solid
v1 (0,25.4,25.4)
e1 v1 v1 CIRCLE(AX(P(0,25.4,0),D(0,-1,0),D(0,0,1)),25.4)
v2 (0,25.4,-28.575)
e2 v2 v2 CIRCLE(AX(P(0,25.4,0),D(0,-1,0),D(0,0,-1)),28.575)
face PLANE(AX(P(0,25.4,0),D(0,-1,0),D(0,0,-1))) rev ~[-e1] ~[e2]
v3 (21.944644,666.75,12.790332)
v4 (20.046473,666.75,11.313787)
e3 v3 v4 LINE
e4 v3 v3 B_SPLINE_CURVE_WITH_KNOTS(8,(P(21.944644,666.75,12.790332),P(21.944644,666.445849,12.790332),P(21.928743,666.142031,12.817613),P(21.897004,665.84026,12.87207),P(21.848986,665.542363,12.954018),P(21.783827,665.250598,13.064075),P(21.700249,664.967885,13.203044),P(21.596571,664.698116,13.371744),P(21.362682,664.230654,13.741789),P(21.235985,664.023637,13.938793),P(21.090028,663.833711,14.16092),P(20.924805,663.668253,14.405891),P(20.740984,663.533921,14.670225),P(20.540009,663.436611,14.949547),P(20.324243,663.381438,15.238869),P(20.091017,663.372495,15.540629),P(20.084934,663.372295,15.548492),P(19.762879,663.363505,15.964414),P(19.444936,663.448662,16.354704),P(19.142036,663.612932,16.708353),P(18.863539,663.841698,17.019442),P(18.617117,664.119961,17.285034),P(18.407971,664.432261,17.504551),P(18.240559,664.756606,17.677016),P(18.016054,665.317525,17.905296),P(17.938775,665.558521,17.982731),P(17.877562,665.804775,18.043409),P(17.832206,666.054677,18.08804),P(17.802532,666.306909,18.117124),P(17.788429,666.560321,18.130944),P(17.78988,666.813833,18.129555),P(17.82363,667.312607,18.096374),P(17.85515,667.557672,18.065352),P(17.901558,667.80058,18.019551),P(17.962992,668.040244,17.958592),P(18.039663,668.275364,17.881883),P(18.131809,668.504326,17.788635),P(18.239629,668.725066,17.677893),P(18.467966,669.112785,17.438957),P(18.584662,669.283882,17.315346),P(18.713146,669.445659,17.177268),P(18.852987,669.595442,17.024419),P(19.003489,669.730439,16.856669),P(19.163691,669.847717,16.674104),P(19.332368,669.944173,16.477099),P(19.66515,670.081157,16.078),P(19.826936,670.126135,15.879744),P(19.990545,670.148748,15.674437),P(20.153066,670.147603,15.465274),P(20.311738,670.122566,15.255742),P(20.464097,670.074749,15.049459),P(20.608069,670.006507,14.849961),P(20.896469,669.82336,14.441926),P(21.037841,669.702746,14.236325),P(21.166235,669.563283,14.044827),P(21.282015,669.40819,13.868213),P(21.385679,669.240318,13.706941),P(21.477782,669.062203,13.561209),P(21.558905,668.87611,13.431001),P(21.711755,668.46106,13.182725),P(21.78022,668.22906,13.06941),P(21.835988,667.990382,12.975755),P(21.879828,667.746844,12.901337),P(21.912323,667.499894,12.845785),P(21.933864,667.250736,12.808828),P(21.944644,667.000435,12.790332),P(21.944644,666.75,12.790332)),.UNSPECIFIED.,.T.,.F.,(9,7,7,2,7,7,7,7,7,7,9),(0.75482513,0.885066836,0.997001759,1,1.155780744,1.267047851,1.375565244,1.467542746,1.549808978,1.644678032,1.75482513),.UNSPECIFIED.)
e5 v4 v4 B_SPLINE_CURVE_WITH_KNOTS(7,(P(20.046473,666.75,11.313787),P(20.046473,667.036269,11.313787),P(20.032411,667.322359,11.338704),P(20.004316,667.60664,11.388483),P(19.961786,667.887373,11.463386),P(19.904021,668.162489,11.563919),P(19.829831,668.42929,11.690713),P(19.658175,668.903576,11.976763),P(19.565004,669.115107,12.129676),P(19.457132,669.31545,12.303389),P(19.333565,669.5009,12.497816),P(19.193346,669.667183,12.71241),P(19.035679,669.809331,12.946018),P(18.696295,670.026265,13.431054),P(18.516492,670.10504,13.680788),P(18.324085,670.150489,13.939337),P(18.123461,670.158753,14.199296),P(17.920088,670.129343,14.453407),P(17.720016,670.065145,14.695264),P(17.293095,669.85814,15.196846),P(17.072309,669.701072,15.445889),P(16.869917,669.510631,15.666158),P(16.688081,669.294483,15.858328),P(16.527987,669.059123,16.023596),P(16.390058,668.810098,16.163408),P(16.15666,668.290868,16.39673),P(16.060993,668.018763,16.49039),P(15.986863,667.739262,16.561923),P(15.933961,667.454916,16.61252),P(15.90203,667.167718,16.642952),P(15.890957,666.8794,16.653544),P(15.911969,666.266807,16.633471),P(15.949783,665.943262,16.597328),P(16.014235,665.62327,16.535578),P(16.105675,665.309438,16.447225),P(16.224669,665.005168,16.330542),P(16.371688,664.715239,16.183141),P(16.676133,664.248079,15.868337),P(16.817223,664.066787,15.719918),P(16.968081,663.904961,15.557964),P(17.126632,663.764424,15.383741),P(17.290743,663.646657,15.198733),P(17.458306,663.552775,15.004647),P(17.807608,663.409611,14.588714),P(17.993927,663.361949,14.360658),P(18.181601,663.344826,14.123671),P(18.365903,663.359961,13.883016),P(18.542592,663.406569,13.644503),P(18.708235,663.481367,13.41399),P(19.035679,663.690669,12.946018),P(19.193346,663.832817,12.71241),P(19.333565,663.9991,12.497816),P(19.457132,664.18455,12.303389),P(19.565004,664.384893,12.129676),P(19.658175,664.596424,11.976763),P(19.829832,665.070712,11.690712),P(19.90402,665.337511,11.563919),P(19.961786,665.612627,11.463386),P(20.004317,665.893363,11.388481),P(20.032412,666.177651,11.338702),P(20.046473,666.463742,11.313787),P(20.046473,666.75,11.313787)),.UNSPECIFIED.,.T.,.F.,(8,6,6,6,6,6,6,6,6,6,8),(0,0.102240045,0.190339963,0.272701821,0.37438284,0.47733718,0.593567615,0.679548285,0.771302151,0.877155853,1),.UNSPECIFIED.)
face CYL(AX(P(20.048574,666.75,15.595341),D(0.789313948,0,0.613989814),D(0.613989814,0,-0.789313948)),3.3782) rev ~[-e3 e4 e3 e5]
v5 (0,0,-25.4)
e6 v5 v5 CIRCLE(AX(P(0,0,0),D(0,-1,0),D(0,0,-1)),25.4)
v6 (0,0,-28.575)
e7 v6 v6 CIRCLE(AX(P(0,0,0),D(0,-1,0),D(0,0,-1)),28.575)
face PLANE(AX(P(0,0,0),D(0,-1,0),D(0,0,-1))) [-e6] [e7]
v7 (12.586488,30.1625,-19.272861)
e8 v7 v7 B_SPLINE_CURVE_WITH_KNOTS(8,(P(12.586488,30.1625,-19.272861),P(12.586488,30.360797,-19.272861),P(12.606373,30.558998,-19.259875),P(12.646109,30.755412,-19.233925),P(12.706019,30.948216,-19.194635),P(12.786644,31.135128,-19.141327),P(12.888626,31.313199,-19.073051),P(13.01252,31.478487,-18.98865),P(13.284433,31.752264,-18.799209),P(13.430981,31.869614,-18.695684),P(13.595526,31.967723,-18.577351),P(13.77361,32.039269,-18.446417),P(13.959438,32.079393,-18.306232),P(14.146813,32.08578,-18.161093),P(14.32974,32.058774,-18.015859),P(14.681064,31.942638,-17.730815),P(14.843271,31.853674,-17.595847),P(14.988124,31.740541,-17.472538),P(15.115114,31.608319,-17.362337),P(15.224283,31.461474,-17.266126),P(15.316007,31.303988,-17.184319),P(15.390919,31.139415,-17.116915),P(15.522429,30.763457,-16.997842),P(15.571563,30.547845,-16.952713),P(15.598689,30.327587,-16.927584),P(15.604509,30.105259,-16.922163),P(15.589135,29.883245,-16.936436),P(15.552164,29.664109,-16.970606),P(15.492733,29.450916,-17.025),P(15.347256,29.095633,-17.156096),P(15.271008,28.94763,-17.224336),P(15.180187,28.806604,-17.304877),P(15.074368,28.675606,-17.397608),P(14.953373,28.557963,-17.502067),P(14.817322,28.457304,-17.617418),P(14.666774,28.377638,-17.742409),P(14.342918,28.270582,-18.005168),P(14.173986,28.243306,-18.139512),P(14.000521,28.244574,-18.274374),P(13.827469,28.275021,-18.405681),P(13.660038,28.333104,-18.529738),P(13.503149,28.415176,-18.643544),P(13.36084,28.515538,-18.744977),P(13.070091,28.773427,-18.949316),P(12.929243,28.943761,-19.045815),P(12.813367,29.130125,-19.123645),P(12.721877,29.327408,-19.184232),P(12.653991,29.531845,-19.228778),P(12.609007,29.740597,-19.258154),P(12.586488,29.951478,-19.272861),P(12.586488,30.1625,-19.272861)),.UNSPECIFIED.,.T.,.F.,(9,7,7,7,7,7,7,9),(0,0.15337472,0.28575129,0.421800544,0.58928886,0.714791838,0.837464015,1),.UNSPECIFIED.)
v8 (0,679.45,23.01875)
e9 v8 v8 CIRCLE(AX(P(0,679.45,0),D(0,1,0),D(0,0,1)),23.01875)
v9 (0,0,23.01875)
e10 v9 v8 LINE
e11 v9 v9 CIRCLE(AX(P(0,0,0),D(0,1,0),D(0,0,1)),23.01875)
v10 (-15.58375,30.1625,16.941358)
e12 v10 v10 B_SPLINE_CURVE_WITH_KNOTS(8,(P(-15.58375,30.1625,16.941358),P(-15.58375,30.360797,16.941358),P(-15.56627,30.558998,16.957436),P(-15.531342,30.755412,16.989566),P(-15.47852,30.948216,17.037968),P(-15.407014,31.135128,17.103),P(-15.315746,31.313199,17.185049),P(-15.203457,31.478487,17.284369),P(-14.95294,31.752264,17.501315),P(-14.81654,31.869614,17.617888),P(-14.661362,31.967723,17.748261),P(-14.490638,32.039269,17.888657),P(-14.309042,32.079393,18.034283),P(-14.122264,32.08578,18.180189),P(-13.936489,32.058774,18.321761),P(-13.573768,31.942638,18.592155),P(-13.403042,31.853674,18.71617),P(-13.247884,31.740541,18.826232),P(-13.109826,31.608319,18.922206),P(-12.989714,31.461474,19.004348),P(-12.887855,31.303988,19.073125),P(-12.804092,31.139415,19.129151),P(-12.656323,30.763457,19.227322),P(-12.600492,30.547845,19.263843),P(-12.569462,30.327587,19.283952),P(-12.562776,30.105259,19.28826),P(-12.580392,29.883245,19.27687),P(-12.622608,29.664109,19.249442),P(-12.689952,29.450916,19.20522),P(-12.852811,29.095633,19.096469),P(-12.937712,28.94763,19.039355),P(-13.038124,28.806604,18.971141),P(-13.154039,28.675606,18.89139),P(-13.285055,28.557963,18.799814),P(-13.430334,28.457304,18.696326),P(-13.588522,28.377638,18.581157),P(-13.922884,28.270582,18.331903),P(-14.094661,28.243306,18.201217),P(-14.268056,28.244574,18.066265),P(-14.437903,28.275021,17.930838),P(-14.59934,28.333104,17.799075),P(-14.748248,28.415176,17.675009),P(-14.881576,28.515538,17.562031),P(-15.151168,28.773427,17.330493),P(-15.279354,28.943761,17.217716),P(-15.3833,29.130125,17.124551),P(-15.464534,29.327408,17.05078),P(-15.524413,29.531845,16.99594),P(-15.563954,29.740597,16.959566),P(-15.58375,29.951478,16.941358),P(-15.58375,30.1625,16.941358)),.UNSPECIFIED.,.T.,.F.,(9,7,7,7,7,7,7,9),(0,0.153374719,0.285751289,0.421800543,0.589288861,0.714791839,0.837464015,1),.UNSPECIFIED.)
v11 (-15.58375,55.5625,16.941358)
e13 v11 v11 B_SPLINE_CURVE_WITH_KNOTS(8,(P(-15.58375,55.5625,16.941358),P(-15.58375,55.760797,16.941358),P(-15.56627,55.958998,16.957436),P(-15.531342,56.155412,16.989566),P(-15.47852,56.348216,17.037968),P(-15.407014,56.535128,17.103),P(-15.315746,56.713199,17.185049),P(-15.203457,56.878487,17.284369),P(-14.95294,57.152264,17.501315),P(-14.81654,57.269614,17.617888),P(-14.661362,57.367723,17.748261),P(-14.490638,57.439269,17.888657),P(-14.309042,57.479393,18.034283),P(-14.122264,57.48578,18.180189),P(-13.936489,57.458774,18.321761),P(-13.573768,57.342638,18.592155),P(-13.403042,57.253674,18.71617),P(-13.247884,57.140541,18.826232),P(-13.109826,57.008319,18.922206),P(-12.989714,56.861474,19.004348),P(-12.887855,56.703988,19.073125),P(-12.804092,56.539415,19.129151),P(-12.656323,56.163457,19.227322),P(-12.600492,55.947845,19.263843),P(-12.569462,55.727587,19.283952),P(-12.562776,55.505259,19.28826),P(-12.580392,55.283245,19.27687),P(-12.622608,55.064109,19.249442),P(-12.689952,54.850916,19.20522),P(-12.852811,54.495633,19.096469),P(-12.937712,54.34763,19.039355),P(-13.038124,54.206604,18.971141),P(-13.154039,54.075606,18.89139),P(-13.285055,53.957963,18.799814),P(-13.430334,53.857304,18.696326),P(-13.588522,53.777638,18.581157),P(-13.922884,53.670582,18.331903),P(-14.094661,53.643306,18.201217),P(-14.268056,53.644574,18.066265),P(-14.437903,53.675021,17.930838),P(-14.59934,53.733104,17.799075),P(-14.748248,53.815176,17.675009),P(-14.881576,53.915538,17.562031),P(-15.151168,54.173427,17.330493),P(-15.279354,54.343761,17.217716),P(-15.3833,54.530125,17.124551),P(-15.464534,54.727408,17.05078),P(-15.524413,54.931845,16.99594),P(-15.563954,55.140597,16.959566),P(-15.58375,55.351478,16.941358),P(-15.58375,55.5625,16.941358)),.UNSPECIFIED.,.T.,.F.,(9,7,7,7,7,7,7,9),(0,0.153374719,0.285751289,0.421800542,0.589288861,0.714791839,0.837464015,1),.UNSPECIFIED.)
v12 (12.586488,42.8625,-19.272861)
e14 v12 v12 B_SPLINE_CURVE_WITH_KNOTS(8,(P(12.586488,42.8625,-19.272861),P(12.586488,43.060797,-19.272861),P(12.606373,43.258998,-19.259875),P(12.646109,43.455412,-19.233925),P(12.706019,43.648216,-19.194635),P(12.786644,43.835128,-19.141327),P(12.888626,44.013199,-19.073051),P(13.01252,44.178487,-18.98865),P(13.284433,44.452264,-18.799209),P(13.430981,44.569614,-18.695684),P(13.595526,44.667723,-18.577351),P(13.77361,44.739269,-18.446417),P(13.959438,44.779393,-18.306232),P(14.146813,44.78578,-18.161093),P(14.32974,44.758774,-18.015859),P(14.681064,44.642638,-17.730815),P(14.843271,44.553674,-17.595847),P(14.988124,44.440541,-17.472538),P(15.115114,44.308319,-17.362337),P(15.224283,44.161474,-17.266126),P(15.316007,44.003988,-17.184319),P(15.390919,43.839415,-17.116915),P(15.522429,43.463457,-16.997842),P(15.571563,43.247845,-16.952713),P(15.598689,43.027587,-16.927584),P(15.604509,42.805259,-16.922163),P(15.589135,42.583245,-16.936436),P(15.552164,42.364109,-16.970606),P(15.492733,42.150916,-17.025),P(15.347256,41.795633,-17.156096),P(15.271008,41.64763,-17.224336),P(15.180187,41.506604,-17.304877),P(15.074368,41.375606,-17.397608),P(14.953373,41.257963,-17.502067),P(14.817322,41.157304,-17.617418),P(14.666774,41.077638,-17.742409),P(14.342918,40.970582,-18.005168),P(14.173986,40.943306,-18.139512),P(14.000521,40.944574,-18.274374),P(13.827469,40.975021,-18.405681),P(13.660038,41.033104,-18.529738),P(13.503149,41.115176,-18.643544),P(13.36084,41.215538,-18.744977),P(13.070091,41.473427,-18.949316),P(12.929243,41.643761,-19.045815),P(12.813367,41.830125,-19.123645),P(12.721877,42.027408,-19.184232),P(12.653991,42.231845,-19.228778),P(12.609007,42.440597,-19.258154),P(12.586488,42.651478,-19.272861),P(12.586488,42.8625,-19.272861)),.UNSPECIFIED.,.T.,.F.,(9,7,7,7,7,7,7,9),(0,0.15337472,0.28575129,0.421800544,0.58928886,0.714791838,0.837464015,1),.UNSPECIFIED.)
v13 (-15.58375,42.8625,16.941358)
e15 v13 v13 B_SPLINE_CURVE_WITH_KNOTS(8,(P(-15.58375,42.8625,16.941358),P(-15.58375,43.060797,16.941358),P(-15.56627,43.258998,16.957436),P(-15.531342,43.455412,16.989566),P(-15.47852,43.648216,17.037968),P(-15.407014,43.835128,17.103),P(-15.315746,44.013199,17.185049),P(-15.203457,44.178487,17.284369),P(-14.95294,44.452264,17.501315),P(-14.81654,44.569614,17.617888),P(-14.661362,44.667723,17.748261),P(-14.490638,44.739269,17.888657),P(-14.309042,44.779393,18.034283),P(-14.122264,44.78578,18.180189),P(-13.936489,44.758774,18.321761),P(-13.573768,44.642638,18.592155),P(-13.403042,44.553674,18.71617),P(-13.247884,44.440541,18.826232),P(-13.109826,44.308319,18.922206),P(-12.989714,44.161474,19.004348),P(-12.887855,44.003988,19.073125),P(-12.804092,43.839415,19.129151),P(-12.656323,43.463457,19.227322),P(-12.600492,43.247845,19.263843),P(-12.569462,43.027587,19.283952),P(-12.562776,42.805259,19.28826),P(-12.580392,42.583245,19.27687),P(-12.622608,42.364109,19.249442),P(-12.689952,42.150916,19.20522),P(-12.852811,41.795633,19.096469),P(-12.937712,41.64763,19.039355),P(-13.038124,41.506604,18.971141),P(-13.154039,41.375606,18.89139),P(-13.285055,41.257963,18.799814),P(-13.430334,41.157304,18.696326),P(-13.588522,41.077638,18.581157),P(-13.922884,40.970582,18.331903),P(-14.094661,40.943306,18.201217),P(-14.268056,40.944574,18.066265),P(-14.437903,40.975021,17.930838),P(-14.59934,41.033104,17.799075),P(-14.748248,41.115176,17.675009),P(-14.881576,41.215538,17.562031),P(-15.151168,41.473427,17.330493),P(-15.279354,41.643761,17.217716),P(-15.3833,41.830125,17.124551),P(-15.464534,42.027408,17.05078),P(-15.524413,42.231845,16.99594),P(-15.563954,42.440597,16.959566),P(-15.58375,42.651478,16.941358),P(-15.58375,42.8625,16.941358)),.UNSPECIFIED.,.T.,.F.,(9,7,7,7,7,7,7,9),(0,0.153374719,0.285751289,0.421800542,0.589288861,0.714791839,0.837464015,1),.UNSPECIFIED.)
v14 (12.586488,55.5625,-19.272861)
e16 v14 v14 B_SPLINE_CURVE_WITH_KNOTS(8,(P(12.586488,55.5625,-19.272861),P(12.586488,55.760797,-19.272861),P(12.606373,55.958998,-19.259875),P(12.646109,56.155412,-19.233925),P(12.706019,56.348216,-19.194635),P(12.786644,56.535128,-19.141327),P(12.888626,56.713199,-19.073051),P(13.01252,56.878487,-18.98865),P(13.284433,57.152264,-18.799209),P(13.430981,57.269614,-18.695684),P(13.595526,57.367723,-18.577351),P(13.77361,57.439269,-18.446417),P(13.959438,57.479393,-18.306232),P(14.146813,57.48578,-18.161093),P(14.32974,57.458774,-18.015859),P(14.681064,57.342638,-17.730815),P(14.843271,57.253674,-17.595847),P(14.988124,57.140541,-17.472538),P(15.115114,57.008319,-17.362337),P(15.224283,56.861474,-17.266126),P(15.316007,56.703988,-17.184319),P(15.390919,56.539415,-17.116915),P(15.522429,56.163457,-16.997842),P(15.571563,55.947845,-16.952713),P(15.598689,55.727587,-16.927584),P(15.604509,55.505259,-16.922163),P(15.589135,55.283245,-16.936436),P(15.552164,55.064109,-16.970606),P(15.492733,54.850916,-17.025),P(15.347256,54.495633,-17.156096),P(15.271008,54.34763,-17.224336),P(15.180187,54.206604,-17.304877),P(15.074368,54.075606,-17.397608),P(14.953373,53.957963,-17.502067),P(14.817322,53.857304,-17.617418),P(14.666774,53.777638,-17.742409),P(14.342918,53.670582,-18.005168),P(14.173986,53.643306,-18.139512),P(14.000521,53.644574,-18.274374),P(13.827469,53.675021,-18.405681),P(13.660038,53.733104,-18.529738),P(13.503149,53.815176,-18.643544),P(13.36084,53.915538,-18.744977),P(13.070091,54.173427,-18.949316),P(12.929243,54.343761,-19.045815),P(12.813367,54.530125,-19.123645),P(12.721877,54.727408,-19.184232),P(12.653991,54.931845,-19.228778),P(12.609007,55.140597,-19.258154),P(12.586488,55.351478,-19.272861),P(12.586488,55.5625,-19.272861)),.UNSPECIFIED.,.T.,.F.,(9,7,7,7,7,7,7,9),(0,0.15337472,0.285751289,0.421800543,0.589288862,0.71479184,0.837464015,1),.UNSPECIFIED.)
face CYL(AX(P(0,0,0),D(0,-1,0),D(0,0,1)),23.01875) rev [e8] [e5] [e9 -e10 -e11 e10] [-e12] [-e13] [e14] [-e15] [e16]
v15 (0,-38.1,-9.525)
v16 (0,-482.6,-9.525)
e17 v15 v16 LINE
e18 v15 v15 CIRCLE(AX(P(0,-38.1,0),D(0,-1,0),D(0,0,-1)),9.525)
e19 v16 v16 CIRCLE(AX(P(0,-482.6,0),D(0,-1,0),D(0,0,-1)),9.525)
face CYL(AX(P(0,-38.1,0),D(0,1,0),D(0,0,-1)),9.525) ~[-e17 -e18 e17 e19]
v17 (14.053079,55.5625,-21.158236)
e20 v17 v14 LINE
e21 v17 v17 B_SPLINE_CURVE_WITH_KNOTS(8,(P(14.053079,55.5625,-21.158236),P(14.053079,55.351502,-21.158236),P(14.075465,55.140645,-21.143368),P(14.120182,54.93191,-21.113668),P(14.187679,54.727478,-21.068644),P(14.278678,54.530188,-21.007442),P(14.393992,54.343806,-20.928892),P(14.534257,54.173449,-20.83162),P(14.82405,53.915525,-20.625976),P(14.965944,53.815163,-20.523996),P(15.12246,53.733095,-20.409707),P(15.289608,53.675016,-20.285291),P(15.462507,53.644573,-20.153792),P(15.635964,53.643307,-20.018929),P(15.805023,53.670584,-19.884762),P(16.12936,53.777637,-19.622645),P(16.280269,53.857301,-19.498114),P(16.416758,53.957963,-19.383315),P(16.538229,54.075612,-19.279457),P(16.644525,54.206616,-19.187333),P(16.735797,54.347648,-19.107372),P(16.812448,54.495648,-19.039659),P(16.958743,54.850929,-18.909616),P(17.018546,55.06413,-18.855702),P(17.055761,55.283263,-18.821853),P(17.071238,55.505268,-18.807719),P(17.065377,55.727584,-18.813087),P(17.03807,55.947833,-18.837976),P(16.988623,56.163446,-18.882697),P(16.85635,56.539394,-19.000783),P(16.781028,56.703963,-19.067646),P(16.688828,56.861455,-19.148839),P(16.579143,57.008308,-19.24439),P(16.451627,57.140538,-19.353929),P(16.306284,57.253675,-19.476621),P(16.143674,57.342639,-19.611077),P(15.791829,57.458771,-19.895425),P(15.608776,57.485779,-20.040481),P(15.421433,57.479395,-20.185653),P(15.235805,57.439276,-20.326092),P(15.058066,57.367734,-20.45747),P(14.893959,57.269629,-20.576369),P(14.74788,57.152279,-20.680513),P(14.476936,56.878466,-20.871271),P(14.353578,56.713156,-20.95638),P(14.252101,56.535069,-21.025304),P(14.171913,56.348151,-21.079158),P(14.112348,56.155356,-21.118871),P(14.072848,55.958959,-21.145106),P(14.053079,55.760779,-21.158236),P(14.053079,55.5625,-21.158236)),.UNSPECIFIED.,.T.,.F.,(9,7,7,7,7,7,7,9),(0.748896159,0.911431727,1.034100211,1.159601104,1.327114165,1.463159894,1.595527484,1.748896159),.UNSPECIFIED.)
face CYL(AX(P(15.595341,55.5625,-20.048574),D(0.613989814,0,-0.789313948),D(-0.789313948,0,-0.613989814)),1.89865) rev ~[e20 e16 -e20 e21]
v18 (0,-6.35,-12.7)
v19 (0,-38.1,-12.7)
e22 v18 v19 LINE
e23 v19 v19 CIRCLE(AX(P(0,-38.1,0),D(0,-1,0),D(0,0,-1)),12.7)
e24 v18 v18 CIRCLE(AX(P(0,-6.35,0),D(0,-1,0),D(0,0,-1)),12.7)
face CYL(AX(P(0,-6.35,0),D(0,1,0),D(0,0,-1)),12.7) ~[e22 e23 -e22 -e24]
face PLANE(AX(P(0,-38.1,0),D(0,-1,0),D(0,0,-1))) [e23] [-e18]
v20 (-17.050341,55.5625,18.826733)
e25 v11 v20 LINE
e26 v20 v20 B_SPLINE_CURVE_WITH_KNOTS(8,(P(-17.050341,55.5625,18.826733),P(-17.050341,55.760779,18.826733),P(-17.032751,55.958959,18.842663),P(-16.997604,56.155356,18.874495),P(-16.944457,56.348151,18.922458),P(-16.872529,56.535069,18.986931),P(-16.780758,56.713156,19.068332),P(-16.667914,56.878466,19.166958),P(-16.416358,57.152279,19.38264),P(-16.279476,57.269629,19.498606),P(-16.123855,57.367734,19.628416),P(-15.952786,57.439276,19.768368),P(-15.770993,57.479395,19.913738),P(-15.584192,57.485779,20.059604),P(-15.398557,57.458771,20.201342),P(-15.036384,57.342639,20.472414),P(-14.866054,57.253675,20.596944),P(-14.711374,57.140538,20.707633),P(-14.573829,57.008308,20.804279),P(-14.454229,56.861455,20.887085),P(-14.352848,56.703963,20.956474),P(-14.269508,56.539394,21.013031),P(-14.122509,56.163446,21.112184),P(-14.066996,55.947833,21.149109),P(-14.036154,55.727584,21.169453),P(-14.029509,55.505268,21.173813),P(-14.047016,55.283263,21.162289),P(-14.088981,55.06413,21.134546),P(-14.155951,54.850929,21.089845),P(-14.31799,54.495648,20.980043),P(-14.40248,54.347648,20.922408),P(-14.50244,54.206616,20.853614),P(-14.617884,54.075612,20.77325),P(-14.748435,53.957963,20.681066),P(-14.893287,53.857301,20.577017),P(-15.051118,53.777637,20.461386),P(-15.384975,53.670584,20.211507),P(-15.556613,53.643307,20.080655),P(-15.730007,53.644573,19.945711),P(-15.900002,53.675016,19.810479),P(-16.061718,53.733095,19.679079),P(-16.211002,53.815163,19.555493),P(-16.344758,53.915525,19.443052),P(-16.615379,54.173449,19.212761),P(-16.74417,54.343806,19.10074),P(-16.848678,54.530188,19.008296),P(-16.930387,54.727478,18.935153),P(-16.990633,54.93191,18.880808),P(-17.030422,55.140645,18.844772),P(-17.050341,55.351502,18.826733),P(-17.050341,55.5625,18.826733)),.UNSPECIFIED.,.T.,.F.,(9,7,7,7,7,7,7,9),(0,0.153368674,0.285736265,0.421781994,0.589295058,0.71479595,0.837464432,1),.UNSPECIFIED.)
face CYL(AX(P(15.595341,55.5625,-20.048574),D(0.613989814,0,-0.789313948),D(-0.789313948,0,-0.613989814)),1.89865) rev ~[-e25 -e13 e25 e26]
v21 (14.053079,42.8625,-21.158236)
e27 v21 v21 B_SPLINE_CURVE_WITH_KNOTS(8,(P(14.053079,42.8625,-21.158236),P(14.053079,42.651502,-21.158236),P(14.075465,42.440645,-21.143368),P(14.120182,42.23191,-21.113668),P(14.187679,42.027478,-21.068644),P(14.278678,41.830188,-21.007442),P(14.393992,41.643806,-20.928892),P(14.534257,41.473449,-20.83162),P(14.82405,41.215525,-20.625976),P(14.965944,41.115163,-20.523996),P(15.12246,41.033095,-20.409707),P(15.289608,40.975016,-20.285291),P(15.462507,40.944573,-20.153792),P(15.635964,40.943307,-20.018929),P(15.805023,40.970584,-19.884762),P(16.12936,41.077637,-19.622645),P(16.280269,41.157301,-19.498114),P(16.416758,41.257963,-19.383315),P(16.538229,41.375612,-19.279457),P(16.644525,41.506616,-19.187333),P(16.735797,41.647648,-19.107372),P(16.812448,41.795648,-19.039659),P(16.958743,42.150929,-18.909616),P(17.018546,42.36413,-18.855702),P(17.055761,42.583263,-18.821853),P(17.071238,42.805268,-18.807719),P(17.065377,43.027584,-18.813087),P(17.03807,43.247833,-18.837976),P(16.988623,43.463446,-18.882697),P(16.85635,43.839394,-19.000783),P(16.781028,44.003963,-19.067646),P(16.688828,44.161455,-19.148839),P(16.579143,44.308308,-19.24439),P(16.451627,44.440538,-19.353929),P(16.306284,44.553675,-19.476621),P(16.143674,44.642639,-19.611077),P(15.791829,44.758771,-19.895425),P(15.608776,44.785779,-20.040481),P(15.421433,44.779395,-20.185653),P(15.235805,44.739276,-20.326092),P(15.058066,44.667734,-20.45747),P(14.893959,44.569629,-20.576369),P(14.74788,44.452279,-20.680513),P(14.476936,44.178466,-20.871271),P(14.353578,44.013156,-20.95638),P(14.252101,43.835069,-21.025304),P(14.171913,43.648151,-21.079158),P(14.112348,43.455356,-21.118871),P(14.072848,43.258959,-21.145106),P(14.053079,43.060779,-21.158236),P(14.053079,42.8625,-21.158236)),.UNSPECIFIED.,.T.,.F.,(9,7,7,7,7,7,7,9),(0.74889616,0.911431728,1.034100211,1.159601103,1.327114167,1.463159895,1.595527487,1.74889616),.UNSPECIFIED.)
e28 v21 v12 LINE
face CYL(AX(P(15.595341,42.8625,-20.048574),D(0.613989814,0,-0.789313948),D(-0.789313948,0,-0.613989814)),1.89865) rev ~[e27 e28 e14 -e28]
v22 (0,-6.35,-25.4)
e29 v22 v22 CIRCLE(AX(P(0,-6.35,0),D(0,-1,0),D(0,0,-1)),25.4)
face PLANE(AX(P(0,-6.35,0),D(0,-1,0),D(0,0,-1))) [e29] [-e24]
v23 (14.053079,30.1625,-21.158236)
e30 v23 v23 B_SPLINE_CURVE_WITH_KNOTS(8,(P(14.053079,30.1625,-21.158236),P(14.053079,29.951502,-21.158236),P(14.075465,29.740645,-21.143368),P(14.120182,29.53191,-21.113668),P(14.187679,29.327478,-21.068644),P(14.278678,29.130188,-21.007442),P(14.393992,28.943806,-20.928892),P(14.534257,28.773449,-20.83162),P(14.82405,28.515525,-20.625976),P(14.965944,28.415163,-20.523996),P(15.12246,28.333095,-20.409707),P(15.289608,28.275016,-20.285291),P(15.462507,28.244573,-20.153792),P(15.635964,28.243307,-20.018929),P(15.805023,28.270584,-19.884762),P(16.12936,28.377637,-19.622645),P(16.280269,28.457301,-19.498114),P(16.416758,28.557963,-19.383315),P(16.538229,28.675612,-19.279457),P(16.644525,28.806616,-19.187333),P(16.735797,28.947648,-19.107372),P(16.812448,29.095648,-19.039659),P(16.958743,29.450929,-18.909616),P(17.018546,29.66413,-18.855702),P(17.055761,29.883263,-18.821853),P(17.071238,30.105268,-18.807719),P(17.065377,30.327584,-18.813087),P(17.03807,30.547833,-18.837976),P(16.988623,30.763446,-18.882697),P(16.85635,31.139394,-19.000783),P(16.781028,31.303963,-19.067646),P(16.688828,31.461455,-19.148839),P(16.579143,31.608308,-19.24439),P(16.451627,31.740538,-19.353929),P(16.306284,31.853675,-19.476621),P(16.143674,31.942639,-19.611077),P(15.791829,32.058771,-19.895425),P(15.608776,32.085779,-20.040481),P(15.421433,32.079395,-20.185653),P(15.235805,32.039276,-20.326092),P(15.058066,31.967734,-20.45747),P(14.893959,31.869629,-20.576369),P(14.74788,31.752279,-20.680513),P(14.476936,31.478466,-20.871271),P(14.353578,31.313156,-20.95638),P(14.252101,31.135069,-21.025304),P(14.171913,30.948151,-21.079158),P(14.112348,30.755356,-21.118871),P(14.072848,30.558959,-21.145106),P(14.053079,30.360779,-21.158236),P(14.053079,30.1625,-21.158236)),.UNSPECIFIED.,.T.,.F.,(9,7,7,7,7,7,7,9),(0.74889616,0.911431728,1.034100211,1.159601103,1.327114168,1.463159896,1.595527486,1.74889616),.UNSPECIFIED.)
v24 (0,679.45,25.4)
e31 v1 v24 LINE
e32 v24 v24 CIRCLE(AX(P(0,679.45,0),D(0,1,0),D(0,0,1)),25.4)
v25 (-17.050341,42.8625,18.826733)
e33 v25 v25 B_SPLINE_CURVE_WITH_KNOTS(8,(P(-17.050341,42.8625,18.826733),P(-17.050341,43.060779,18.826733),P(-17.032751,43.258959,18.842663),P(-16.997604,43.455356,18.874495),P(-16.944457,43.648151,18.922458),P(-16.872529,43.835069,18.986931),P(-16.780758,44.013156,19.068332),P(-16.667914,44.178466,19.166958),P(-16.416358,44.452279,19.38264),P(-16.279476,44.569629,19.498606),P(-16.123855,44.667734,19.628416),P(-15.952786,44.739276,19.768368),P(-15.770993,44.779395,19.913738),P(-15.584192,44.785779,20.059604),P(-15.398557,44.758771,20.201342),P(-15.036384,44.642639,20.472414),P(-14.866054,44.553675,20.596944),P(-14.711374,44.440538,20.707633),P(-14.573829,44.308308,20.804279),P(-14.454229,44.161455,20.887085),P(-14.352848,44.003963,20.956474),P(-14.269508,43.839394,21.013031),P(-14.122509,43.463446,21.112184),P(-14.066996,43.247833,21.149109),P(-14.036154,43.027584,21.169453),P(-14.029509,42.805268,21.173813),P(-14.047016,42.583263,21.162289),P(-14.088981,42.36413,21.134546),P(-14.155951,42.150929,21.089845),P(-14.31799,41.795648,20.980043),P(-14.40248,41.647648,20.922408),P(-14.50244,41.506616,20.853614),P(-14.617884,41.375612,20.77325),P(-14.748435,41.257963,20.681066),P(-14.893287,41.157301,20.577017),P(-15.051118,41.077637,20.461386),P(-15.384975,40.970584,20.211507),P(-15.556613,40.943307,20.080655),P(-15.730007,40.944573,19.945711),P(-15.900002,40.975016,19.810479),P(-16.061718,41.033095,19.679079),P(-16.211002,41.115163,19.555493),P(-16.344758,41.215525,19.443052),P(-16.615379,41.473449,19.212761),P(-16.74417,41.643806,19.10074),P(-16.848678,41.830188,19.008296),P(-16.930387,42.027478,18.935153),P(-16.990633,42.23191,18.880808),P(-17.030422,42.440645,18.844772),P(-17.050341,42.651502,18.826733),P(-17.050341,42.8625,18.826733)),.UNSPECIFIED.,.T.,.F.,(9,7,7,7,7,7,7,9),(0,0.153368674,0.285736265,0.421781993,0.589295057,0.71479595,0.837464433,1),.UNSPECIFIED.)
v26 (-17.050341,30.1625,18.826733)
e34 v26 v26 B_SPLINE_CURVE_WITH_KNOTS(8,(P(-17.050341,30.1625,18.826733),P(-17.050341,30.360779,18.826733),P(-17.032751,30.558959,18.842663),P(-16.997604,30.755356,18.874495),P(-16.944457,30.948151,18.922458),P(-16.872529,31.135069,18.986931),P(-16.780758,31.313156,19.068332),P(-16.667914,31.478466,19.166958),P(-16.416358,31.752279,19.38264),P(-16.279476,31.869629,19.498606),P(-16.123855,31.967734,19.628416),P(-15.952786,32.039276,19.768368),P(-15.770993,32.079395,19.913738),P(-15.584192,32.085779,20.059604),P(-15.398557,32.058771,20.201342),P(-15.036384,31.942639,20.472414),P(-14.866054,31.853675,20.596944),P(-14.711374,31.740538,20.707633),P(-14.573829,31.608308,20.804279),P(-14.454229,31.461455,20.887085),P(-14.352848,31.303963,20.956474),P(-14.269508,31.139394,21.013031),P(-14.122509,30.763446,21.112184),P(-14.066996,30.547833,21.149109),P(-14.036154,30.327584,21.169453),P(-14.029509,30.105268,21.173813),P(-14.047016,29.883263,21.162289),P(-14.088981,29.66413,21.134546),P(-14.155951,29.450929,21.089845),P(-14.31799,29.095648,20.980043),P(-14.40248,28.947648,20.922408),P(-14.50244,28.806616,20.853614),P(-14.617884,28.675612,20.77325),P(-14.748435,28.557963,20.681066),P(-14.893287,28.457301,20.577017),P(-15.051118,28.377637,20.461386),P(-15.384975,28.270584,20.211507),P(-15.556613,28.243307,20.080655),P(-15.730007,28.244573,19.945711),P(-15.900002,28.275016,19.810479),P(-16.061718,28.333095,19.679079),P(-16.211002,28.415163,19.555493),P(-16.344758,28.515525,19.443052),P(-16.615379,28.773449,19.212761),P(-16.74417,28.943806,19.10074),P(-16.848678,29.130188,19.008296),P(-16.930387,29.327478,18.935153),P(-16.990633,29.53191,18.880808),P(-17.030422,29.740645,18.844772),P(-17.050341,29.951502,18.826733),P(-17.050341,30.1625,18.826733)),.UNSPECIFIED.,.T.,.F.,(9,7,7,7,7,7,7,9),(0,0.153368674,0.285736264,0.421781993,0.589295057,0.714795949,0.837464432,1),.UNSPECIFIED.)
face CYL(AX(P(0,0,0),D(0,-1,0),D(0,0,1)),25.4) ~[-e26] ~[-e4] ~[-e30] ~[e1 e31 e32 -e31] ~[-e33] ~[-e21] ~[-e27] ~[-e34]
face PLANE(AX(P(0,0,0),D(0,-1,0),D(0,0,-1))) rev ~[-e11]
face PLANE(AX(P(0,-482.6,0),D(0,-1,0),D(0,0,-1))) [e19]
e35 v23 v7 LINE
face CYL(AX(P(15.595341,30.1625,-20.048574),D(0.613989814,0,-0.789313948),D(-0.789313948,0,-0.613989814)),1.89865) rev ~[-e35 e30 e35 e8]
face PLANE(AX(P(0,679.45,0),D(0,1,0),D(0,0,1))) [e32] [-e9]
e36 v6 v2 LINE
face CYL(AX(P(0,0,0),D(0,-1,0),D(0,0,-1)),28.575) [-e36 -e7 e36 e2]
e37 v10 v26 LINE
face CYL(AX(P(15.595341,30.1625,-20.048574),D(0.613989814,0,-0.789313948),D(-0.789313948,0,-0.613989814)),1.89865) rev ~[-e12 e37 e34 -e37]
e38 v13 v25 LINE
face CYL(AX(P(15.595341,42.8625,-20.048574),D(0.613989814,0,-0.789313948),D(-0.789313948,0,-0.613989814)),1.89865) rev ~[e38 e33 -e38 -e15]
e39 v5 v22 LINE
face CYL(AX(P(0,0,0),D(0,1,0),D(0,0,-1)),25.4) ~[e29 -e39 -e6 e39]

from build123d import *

# Parameters (mm, degrees)
SKETCH1_R                    = 25.4
SKETCH1_R_2                  = 23.01875
BOSS_EXTRUDE1_DEPTH          = 679.45
SKETCH2_R                    = 28.575
SKETCH2_R_2                  = 25.4
BOSS_EXTRUDE2_DEPTH          = 25.4
SKETCH4_R                    = 1.89865
CUT_EXTRUDE1_DEPTH           = 683.618175501
SKETCH5_R                    = 25.4
BOSS_EXTRUDE4_DEPTH          = 6.35
SKETCH6_R                    = 12.7
BOSS_EXTRUDE5_DEPTH          = 31.75
SKETCH7_R                    = 9.525
BOSS_EXTRUDE6_DEPTH          = 444.5
F_1_4_CLEARANCE_HOLE1_REACH  = 684.618
F_1_4_CLEARANCE_HOLE1_BORE_R = 3.3782


with BuildPart() as part:
    # Sketch1 → Boss-Extrude1 (new body)
    with BuildSketch(Plane(origin=(0, 0, 0), x_dir=(1, 0, 0), z_dir=(0, 1, 0))):
        with Locations(Location((0, 0, 0), (0, 0, 270))):
            Circle(SKETCH1_R)
        with Locations(Location((0, 0, 0), (0, 0, 270))):
            Circle(SKETCH1_R_2, mode=Mode.SUBTRACT)
    extrude(amount=BOSS_EXTRUDE1_DEPTH)

    # Sketch2 → Boss-Extrude2 (add)
    with BuildSketch(Plane(origin=(0, 0, 0), x_dir=(-1, 0, 0), z_dir=(0, -1, 0))):
        with Locations(Location((0, 0, 0), (0, 0, 90))):
            Circle(SKETCH2_R)
        with Locations(Location((0, 0, 0), (0, 0, 90))):
            Circle(SKETCH2_R_2, mode=Mode.SUBTRACT)
    extrude(amount=-BOSS_EXTRUDE2_DEPTH)

    # Sketch4 → Cut-Extrude1 (cut, through all)
    with BuildSketch(Plane(origin=(15.595341272, 0, -20.048574278), x_dir=(-0.7893139479687464, 0, -0.6139898138747834), z_dir=(0.6139898138747834, 0, -0.7893139479687464))):
        with Locations((0, 55.5625)):
            Circle(SKETCH4_R)
        with Locations((0, 42.8625)):
            Circle(SKETCH4_R)
        with Locations((0, 30.1625)):
            Circle(SKETCH4_R)
    extrude(amount=-CUT_EXTRUDE1_DEPTH, mode=Mode.SUBTRACT)

    # Sketch5 → Boss-Extrude4 (add)
    with BuildSketch(Plane.XZ):
        with Locations(Location((0, 0, 0), (0, 0, 270))):
            Circle(SKETCH5_R)
    extrude(amount=BOSS_EXTRUDE4_DEPTH)

    # Sketch6 → Boss-Extrude5 (add)
    with BuildSketch(Plane.XZ.offset(6.35)):
        with Locations(Location((0, 0, 0), (0, 0, 270))):
            Circle(SKETCH6_R)
    extrude(amount=BOSS_EXTRUDE5_DEPTH)

    # Sketch7 → Boss-Extrude6 (add)
    with BuildSketch(Plane.XZ.offset(38.1)):
        with Locations(Location((0, 0, 0), (0, 0, 270))):
            Circle(SKETCH7_R)
    extrude(amount=BOSS_EXTRUDE6_DEPTH)

    # 1/4 Clearance Hole1 bore → 1/4 Clearance Hole1 (cut, up to next)
    with BuildSketch(Plane(origin=(20.048574278, 0, 15.595341272), x_dir=(0.6139898138747835, 0, -0.7893139479687464), z_dir=(0.7893139479687464, 0, 0.6139898138747835)), mode=Mode.PRIVATE) as f_1_4_clearance_hole1_sk1:
        with Locations((0, 666.75)):
            Circle(F_1_4_CLEARANCE_HOLE1_BORE_R)
    f_1_4_clearance_hole1_tool1 = extrude(f_1_4_clearance_hole1_sk1.sketch, amount=-F_1_4_CLEARANCE_HOLE1_REACH, mode=Mode.PRIVATE) & part.part
    add(f_1_4_clearance_hole1_tool1.solids().sort_by_distance((20.048574, 666.75, 15.595341))[0], mode=Mode.SUBTRACT)


solid = part.part
